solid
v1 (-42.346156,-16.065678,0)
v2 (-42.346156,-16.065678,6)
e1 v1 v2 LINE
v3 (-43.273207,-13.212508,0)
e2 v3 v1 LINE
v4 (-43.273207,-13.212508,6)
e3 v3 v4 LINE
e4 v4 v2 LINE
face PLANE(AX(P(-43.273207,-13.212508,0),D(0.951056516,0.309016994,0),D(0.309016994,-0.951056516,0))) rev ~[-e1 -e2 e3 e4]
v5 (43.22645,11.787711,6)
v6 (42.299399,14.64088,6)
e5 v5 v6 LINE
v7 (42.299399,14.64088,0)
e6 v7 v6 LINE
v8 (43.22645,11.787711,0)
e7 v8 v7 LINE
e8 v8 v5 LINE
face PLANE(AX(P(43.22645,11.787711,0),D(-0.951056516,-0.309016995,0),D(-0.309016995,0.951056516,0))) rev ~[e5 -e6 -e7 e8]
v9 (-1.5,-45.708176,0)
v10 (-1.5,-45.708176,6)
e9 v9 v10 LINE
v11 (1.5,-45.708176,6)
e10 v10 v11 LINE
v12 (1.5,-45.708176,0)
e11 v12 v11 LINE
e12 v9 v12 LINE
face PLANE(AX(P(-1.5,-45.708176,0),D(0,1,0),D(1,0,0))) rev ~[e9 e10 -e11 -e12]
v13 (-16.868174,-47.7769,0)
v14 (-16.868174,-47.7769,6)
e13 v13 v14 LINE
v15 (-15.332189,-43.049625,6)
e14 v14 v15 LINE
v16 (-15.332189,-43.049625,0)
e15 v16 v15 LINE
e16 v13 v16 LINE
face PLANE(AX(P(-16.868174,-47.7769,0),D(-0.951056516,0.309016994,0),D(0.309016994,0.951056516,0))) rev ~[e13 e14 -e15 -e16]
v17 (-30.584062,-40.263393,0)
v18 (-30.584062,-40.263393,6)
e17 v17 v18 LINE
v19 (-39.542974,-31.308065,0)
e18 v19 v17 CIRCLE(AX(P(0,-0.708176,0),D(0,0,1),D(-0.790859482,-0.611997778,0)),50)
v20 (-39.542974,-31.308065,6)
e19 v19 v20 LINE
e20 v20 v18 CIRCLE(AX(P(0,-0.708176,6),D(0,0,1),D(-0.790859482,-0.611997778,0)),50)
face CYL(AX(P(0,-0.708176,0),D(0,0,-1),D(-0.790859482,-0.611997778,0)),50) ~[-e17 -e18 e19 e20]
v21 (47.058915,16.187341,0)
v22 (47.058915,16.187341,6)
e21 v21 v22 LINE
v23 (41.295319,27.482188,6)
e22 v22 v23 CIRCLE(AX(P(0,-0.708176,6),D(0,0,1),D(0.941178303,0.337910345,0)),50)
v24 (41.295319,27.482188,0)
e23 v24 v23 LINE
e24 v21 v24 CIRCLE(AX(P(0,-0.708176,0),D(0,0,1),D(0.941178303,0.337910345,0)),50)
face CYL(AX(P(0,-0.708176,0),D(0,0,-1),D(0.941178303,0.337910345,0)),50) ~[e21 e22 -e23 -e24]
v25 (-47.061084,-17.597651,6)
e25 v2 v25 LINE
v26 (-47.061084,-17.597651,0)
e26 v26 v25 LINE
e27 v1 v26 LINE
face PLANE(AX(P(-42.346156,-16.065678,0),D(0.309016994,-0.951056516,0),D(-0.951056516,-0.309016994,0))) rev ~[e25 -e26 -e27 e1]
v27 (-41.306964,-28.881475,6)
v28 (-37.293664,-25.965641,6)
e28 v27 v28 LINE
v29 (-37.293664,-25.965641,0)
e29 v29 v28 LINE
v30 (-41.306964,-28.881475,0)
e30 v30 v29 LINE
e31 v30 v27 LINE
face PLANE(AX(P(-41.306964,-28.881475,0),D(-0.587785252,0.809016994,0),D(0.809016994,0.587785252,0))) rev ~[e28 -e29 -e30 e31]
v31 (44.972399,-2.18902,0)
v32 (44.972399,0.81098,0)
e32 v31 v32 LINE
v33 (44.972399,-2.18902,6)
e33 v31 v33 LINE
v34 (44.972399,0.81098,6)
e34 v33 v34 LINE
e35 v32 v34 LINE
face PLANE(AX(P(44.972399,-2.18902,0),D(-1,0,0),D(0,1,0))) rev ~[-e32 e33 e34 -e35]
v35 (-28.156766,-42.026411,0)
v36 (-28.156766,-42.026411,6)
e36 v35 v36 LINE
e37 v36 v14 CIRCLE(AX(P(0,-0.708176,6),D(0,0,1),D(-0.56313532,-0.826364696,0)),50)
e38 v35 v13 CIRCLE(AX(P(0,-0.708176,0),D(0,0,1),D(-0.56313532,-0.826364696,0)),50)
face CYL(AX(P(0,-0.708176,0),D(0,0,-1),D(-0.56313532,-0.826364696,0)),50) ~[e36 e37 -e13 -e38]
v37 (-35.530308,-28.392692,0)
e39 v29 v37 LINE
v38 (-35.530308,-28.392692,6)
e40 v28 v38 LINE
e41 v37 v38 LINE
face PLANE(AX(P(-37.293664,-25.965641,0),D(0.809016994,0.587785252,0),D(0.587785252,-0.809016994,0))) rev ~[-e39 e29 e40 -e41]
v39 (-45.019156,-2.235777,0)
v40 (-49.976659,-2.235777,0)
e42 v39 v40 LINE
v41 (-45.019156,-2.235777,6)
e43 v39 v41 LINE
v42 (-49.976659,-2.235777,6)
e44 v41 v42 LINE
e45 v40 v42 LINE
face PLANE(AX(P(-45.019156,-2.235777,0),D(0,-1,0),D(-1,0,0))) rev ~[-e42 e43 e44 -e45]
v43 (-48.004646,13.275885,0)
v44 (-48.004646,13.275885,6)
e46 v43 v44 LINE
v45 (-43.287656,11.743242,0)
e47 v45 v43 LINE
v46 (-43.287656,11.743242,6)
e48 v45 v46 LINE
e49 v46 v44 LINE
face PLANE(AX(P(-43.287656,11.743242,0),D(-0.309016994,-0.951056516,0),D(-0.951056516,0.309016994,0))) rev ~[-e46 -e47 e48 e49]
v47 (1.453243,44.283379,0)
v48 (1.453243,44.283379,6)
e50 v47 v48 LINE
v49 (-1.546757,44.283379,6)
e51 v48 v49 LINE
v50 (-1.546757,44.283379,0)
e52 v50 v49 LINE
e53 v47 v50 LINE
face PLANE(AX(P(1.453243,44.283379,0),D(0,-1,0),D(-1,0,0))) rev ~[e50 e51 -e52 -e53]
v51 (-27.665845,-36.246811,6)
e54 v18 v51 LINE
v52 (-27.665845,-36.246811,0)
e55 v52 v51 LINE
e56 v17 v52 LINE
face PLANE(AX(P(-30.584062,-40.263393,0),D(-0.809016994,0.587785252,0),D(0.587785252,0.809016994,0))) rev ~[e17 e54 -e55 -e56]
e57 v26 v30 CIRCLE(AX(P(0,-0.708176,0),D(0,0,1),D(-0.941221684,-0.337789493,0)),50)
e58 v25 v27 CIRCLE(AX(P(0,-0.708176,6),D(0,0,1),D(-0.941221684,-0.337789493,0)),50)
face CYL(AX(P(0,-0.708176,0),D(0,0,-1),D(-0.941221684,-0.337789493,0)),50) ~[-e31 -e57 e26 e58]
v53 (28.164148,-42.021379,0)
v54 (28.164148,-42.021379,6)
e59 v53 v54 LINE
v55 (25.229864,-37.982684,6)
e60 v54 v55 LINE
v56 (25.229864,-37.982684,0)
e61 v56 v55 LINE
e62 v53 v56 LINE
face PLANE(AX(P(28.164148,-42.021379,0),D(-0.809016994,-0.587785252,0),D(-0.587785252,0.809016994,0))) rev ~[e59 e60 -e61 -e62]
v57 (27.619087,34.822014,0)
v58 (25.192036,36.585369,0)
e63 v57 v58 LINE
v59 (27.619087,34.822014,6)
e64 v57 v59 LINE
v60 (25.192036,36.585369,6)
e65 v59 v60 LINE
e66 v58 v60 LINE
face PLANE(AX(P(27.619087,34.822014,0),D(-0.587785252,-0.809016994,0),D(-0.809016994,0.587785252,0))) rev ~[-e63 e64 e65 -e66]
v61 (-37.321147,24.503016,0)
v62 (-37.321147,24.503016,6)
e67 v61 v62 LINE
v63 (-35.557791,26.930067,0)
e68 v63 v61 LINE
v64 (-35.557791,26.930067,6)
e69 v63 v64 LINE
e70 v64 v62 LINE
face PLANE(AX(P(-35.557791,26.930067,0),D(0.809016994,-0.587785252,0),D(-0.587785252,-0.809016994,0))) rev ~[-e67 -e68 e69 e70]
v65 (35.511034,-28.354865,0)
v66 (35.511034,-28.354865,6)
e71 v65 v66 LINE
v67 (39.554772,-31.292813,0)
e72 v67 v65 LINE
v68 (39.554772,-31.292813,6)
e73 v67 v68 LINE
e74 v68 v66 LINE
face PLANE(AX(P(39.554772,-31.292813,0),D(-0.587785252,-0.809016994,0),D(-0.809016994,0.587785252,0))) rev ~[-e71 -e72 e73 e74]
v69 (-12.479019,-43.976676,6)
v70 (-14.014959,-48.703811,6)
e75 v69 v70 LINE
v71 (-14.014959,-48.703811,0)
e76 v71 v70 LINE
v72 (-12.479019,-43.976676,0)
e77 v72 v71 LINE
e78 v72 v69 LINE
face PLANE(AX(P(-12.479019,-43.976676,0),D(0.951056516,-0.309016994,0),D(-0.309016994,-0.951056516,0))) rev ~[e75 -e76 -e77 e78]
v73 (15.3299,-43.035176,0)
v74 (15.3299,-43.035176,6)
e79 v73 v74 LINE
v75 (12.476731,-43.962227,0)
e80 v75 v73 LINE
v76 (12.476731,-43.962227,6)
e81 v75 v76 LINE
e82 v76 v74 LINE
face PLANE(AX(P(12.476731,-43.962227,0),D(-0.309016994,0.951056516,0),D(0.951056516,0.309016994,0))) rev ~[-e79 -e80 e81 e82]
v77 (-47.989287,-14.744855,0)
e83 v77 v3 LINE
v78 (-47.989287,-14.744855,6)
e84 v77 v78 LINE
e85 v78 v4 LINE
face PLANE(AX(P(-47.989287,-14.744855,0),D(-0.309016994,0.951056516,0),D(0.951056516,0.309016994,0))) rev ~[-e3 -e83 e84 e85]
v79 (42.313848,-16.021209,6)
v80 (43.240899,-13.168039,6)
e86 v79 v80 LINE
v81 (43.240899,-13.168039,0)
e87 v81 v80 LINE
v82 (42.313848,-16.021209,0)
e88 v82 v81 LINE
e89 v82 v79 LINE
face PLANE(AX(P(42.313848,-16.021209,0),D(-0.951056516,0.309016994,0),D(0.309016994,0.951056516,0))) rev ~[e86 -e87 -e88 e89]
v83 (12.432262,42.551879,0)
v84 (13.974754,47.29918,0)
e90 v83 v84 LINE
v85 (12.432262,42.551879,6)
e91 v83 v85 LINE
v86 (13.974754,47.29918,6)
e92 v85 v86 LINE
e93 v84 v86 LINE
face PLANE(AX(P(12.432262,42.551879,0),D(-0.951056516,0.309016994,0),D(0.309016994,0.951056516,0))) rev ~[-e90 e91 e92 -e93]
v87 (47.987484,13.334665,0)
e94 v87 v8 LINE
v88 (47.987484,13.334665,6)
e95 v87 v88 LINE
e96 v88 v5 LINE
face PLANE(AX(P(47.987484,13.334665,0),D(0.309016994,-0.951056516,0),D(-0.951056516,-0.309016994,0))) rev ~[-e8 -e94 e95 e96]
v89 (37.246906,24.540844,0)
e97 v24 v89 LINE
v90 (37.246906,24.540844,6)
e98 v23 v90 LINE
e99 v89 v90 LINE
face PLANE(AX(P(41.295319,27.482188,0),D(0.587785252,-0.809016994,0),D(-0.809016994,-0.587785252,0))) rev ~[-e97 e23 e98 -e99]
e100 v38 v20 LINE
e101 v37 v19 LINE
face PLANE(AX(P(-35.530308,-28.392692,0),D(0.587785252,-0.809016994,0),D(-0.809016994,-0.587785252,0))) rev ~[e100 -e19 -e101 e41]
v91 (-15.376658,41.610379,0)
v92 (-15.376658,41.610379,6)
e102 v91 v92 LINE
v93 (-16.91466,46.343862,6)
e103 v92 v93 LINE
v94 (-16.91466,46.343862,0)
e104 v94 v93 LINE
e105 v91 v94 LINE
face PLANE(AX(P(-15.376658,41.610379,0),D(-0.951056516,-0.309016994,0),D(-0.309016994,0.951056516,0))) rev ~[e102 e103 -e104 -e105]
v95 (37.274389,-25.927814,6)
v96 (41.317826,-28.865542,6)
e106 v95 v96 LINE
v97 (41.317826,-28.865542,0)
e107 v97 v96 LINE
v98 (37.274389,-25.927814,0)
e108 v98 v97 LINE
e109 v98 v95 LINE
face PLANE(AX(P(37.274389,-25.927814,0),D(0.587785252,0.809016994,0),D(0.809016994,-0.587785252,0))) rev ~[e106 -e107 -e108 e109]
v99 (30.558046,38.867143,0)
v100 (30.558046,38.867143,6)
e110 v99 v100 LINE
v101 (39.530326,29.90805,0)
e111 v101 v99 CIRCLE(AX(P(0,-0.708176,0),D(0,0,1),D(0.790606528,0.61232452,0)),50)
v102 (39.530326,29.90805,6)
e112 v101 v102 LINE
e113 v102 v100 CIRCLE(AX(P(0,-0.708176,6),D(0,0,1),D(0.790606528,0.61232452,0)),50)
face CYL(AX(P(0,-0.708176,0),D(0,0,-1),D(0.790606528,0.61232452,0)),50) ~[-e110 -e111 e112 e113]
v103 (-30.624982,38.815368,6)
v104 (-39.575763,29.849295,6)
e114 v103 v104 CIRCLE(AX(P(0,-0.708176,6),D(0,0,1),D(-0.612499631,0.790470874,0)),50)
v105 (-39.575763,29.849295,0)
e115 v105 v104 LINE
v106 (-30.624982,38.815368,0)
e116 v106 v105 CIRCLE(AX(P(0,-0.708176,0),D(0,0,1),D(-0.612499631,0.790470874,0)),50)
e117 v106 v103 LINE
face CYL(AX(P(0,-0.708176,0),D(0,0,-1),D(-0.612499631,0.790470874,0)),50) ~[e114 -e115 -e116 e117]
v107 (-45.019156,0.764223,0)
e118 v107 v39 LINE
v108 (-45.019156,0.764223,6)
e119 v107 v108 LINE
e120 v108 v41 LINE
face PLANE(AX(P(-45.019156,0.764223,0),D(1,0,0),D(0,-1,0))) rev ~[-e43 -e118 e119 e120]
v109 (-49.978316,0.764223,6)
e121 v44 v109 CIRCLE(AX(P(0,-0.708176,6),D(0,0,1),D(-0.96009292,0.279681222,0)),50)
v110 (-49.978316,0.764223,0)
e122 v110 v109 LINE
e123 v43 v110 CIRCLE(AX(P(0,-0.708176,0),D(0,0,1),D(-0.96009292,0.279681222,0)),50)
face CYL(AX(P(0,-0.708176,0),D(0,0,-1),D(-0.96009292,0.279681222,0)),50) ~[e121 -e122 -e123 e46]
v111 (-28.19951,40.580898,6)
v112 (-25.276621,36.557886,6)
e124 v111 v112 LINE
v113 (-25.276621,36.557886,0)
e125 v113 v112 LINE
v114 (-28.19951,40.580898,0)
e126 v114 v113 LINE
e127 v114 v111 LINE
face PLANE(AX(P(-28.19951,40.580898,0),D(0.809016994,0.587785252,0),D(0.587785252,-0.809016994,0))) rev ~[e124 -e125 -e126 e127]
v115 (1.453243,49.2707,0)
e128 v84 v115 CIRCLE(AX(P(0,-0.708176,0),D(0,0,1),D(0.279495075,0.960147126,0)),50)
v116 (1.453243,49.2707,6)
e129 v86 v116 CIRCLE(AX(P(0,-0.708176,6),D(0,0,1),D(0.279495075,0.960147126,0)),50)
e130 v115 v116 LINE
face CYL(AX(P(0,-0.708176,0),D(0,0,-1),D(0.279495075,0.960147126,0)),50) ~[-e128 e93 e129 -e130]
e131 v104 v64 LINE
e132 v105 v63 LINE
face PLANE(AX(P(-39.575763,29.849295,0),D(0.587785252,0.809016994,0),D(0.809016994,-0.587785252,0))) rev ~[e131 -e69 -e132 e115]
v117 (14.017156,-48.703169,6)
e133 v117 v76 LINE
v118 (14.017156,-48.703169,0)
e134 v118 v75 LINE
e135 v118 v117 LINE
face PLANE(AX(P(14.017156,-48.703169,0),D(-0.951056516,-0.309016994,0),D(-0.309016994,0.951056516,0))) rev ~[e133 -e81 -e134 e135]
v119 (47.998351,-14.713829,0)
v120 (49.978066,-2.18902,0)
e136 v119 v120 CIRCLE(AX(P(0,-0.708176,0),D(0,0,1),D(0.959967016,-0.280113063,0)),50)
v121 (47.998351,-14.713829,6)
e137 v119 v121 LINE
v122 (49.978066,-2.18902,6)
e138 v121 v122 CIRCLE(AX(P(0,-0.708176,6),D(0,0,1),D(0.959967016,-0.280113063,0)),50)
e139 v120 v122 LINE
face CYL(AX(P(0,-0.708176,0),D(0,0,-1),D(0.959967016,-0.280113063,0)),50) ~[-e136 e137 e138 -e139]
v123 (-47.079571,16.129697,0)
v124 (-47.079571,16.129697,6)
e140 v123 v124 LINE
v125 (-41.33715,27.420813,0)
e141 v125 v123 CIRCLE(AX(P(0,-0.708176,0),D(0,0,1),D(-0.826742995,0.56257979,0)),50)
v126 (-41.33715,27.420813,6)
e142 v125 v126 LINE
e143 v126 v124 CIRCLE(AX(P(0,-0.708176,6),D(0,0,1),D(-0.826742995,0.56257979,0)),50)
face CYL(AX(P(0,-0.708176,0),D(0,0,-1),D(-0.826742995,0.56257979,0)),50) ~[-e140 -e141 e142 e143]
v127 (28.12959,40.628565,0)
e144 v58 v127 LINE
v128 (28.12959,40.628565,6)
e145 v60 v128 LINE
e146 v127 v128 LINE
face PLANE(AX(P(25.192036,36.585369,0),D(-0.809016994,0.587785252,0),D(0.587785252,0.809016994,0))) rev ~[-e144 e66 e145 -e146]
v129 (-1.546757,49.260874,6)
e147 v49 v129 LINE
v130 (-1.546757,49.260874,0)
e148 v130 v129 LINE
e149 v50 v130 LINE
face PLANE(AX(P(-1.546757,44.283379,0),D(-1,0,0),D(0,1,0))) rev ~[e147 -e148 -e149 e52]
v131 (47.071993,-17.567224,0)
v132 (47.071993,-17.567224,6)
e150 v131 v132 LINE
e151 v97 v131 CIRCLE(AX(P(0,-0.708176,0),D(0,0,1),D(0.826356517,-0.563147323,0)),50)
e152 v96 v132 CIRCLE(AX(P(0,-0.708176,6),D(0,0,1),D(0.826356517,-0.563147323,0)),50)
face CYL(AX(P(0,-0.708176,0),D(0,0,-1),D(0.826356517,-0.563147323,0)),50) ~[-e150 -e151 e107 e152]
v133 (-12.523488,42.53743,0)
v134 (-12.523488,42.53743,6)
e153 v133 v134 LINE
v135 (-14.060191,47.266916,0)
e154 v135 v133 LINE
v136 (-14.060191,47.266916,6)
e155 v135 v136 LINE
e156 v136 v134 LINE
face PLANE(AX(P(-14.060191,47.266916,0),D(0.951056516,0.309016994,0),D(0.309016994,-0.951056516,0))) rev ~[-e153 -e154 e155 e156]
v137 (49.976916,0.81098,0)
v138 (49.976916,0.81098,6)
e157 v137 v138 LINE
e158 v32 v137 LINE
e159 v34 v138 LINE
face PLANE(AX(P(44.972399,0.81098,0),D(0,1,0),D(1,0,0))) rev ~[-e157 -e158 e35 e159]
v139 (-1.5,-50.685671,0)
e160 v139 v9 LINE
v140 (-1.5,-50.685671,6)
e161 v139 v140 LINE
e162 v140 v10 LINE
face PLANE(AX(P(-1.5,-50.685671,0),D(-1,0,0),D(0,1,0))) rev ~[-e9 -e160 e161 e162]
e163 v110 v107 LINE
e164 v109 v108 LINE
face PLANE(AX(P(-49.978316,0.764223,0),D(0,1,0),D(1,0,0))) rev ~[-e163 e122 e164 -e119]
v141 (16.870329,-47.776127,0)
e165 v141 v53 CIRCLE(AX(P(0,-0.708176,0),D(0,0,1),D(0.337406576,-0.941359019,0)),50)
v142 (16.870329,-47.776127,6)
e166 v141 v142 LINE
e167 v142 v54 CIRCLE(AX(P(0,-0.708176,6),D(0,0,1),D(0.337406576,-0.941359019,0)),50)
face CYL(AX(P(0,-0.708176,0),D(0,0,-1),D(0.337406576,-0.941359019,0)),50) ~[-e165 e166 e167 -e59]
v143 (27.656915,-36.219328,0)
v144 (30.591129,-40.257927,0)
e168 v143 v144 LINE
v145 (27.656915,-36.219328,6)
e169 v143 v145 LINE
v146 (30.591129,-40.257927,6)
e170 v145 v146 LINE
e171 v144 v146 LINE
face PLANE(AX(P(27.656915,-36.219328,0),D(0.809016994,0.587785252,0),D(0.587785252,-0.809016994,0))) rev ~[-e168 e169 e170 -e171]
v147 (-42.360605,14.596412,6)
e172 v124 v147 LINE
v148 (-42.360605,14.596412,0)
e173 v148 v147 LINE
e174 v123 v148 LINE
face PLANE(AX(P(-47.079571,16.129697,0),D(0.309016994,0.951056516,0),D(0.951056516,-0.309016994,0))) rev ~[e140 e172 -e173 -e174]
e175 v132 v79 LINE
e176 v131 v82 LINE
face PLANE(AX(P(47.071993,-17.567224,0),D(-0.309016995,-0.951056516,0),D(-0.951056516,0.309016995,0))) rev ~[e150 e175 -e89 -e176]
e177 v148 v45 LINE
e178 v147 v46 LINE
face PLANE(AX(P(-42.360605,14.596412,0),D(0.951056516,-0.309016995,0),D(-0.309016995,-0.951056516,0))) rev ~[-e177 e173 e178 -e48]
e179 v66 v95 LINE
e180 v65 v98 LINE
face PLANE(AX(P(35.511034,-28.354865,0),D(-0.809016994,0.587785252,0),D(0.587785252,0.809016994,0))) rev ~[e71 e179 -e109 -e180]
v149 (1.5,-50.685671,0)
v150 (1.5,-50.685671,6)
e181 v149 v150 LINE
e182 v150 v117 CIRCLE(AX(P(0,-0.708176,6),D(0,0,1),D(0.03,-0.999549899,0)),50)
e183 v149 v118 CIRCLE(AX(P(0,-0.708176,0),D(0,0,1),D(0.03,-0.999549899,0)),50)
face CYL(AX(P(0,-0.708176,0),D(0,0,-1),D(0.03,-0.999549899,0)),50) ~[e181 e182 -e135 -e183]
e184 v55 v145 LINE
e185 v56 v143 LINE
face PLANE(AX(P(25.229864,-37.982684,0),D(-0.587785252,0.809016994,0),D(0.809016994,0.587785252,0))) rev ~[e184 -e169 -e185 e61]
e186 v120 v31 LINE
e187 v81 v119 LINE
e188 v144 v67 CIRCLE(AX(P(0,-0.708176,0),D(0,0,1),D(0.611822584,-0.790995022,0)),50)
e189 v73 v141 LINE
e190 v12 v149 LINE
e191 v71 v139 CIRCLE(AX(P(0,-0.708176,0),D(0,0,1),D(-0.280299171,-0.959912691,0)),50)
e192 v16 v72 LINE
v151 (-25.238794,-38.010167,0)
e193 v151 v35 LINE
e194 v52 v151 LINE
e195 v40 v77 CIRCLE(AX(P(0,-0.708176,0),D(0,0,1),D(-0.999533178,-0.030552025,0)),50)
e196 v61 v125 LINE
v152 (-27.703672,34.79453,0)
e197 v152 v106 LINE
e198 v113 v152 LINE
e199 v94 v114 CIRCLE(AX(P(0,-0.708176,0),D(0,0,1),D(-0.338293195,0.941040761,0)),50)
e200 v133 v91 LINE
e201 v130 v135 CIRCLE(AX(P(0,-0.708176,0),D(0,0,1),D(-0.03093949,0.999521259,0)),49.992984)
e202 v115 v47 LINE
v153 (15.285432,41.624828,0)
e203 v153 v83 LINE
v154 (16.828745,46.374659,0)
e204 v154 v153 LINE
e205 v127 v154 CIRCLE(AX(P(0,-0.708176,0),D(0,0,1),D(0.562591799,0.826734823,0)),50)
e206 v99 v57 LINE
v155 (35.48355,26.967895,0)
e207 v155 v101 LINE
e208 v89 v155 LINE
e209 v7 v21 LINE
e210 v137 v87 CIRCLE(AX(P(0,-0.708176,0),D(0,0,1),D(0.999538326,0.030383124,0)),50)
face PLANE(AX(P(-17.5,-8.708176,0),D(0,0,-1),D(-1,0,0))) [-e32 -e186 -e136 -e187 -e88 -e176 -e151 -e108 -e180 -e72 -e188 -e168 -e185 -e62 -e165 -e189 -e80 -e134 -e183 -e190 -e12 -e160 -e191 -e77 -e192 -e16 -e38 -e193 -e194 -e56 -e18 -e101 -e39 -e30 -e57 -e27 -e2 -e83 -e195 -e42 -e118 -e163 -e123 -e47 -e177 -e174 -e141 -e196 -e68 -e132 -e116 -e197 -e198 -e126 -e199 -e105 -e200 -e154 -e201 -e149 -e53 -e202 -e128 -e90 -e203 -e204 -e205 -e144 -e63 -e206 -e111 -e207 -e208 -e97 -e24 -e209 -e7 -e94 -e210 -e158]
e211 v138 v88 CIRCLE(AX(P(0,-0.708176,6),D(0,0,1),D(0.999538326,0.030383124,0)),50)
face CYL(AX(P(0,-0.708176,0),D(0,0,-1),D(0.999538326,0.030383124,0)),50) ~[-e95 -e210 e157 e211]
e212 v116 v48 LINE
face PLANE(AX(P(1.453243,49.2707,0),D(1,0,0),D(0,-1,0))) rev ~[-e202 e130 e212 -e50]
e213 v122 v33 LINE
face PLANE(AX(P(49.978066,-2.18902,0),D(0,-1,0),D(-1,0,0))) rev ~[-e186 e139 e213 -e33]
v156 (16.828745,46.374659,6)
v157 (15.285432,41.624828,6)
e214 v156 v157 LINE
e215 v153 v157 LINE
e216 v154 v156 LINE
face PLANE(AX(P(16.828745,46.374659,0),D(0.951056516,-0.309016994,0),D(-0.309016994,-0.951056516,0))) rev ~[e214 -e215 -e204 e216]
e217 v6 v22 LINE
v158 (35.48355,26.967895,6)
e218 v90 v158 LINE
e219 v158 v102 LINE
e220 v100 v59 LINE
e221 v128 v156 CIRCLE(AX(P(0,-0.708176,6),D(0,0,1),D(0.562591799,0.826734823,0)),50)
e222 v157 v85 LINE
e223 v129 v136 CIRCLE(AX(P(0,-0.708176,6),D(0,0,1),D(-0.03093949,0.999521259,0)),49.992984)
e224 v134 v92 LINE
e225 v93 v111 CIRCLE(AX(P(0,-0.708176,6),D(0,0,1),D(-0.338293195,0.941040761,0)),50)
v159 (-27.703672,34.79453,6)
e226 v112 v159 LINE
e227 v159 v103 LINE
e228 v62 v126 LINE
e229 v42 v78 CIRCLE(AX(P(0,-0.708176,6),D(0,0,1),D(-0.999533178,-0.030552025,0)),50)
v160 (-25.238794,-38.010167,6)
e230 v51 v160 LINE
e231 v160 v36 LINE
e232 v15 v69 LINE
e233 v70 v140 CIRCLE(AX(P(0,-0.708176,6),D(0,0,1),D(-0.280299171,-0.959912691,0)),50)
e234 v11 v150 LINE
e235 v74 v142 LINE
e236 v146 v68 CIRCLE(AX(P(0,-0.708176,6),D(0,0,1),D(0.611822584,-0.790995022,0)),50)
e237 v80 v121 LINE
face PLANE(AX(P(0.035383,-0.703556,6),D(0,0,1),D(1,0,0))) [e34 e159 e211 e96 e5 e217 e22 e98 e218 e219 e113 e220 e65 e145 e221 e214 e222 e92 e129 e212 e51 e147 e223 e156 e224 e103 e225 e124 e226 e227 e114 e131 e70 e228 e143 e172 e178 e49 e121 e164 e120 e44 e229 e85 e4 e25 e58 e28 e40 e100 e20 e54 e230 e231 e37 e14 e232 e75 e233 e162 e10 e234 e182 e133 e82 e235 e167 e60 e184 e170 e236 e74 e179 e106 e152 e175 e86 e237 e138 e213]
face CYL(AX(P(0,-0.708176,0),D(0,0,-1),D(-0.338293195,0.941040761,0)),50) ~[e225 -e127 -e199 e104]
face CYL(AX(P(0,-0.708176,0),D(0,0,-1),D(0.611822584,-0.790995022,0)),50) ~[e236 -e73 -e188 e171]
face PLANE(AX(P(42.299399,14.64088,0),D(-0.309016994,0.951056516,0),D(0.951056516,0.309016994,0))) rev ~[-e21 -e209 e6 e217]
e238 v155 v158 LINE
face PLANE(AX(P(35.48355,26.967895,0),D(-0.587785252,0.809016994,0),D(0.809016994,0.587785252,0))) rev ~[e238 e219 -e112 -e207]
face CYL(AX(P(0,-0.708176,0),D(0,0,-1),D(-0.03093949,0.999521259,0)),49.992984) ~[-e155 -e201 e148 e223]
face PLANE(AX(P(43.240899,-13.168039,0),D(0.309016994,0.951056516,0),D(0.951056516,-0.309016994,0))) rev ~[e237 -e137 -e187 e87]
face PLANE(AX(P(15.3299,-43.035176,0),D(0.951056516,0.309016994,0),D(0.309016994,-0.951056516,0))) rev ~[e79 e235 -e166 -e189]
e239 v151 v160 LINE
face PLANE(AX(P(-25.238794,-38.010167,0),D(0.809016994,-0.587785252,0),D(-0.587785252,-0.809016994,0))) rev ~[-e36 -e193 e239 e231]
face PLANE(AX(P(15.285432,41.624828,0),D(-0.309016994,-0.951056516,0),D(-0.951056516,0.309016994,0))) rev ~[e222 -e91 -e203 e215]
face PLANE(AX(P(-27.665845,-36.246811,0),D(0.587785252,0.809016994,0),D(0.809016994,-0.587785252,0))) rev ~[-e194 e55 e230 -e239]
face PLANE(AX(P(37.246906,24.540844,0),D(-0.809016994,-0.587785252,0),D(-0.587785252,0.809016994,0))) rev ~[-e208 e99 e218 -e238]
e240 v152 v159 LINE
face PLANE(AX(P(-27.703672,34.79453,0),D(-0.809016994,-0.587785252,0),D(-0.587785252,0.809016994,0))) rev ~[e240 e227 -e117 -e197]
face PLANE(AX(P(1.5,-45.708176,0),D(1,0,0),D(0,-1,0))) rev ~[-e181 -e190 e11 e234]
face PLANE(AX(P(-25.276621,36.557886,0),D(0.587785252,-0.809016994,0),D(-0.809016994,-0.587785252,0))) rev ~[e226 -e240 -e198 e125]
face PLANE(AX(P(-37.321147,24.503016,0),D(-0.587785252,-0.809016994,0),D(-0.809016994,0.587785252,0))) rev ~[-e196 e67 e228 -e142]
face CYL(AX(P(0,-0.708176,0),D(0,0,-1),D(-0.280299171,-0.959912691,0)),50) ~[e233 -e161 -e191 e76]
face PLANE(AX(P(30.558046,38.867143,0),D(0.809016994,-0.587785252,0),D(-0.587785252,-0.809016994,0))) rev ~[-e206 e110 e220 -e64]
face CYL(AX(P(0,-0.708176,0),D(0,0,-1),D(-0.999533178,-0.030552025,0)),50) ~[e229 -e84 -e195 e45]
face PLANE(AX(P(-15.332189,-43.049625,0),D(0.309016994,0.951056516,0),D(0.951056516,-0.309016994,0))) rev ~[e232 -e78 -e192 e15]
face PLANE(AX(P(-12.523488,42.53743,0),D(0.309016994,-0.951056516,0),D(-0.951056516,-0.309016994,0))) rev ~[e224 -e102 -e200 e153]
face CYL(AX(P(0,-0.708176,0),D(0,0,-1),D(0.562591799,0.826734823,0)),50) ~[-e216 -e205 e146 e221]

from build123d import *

# Parameters (mm, degrees)
SKETCH2_W           = 16
SKETCH2_H           = 6
SKETCH2_R           = 2.75
BOSS_EXTRUDE1_DEPTH = 6
SKETCH4_R           = 2.75
SKETCH4_W           = 16
SKETCH4_H           = 6
BOSS_EXTRUDE2_DEPTH = 6


with BuildPart() as part:
    # Sketch2 → Boss-Extrude1 (new body)
    with BuildSketch(Plane.XY):
        with BuildLine():
            ThreePointArc((-14.014958559, -48.70381072), (-7.820513245, -50.092784824), (-1.5, -50.685671098))
            Line((-1.5, -50.685671098), (-1.5, -45.708176163))
            Line((-1.5, -45.708176163), (1.5, -45.708176163))
            Line((1.5, -45.708176163), (1.5, -50.685671098))
            ThreePointArc((1.5, -50.685671098), (7.821643905, -50.09260576), (14.017156267, -48.703168924))
            Line((14.017156267, -48.703168924), (12.476730902, -43.962227135))
            Line((12.476730902, -43.962227135), (15.32990045, -43.035176152))
            Line((15.32990045, -43.035176152), (16.870328795, -47.776127109))
            ThreePointArc((16.870328795, -47.776127109), (22.700337229, -45.258088505), (28.164148211, -42.021379325))
            Line((28.164148211, -42.021379325), (25.229863981, -37.982683562))
            Line((25.229863981, -37.982683562), (27.656914964, -36.219327805))
            Line((27.656914964, -36.219327805), (30.591129228, -40.257927268))
            ThreePointArc((30.591129228, -40.257927268), (35.358240772, -36.060613271), (39.55477218, -31.292812793))
            Line((39.55477218, -31.292812793), (35.511033717, -28.354864828))
            Line((35.511033717, -28.354864828), (37.274389474, -25.927813845))
            Line((37.274389474, -25.927813845), (41.317825829, -28.865542317))
            ThreePointArc((41.317825829, -28.865542317), (44.554494815, -23.399517942), (47.071992795, -17.567224011))
            Line((47.071992795, -17.567224011), (42.313847582, -16.021208913))
            Line((42.313847582, -16.021208913), (43.240898565, -13.168039364))
            Line((43.240898565, -13.168039364), (47.998350807, -14.713829302))
            ThreePointArc((47.998350807, -14.713829302), (49.386863483, -8.514437454), (49.978066205, -2.189019992))
            Line((49.978066205, -2.189019992), (44.972398757, -2.189019992))
            Line((44.972398757, -2.189019992), (44.972398757, 0.810980008))
            Line((44.972398757, 0.810980008), (49.976916317, 0.810980008))
            ThreePointArc((49.976916317, 0.810980008), (49.380832331, 7.136146516), (47.987483994, 13.334664716))
            Line((47.987483994, 13.334664716), (43.22644973, 11.787710909))
            Line((43.22644973, 11.787710909), (42.299398746, 14.640880458))
            Line((42.299398746, 14.640880458), (47.058915168, 16.187341088))
            ThreePointArc((47.058915168, 16.187341088), (44.536626084, 22.0182168), (41.295318935, 27.482188044))
            Line((41.295318935, 27.482188044), (37.246906156, 24.540843989))
            Line((37.246906156, 24.540843989), (35.483550399, 26.967894972))
            Line((35.483550399, 26.967894972), (39.530326401, 29.908049839))
            ThreePointArc((39.530326401, 29.908049839), (35.329326435, 34.673156396), (30.558045552, 38.86714256))
            Line((30.558045552, 38.86714256), (27.619087422, 34.822013725))
            Line((27.619087422, 34.822013725), (25.192036439, 36.585369482))
            Line((25.192036439, 36.585369482), (28.129589934, 40.628565002))
            ThreePointArc((28.129589934, 40.628565002), (22.66202489, 43.861237429), (16.828745179, 46.374658668))
            Line((16.828745179, 46.374658668), (15.285431508, 41.62482759))
            Line((15.285431508, 41.62482759), (12.432261959, 42.551878573))
            Line((12.432261959, 42.551878573), (13.974753738, 47.299180128))
            ThreePointArc((13.974753738, 47.299180128), (7.776727495, 48.683346485), (1.453242586, 49.270700235))
            Line((1.453242586, 49.270700235), (1.453242586, 44.283378765))
            Line((1.453242586, 44.283378765), (-1.546757414, 44.283378765))
            Line((-1.546757414, 44.283378765), (-1.546757414, 49.2608737))
            ThreePointArc((-1.546757414, 49.2608737), (-7.866904098, 48.661958763), (-14.060191394, 47.266915506))
            Line((-14.060191394, 47.266915506), (-12.523488315, 42.537429737))
            Line((-12.523488315, 42.537429737), (-15.376657864, 41.610378754))
            Line((-15.376657864, 41.610378754), (-16.914659767, 46.343861891))
            ThreePointArc((-16.914659767, 46.343861891), (-22.740383136, 43.821308169), (-28.199510335, 40.580897657))
            Line((-28.199510335, 40.580897657), (-25.276621395, 36.557886164))
            Line((-25.276621395, 36.557886164), (-27.703672378, 34.794530407))
            Line((-27.703672378, 34.794530407), (-30.624981542, 38.815367524))
            ThreePointArc((-30.624981542, 38.815367524), (-35.385501758, 34.616974444), (-39.575762572, 29.849294558))
            Line((-39.575762572, 29.849294558), (-35.557791131, 26.93006743))
            Line((-35.557791131, 26.93006743), (-37.321146887, 24.503016447))
            Line((-37.321146887, 24.503016447), (-41.33714976, 27.420813327))
            ThreePointArc((-41.33714976, 27.420813327), (-44.567381262, 21.957845266), (-47.079571363, 16.129696634))
            Line((-47.079571363, 16.129696634), (-42.360604995, 14.596411515))
            Line((-42.360604995, 14.596411515), (-43.287655979, 11.743241967))
            Line((-43.287655979, 11.743241967), (-48.004645978, 13.275884924))
            ThreePointArc((-48.004645978, 13.275884924), (-49.389276358, 7.082804571), (-49.978315717, 0.764222594))
            Line((-49.978315717, 0.764222594), (-45.01915617, 0.764222594))
            Line((-45.01915617, 0.764222594), (-45.01915617, -2.235777406))
            Line((-45.01915617, -2.235777406), (-49.976658896, -2.235777406))
            ThreePointArc((-49.976658896, -2.235777406), (-49.380673152, -8.553500826), (-47.989286669, -14.744855434))
            Line((-47.989286669, -14.744855434), (-43.273207143, -13.212508307))
            Line((-43.273207143, -13.212508307), (-42.34615616, -16.065677856))
            Line((-42.34615616, -16.065677856), (-47.06108419, -17.597650839))
            ThreePointArc((-47.06108419, -17.597650839), (-44.542778803, -23.422507686), (-41.306963736, -28.881474636))
            Line((-41.306963736, -28.881474636), (-37.293663569, -25.965641387))
            Line((-37.293663569, -25.965641387), (-35.530307812, -28.39269237))
            Line((-35.530307812, -28.39269237), (-39.542974081, -31.308065065))
            ThreePointArc((-39.542974081, -31.308065065), (-35.348264075, -36.07058879), (-30.584062086, -40.263392586))
            Line((-30.584062086, -40.263392586), (-27.665844836, -36.246811123))
            Line((-27.665844836, -36.246811123), (-25.238793853, -38.01016688))
            Line((-25.238793853, -38.01016688), (-28.156765996, -42.026410983))
            ThreePointArc((-28.156765996, -42.026410983), (-22.695337069, -45.260635975), (-16.868173537, -47.776899552))
            Line((-16.868173537, -47.776899552), (-15.332188921, -43.049624988))
            Line((-15.332188921, -43.049624988), (-12.479019372, -43.976675971))
            Line((-12.479019372, -43.976675971), (-14.014958559, -48.70381072))
        make_face()
        with Locations((0, -31.708176163)):
            Rectangle(SKETCH2_W, SKETCH2_H, mode=Mode.SUBTRACT)
        with Locations((-17.5, -8.708176163)):
            Circle(SKETCH2_R, mode=Mode.SUBTRACT)
        with Locations((17.5, -8.708176163)):
            Circle(SKETCH2_R, mode=Mode.SUBTRACT)
    extrude(amount=BOSS_EXTRUDE1_DEPTH)

    # Sketch4 → Boss-Extrude2 (add)
    with BuildSketch(Plane(origin=(0, 0, 0), x_dir=(-1, 0, 0), z_dir=(0, 0, -1))):
        with Locations((17.5, -8.708176163)):
            Circle(SKETCH4_R)
        with Locations((-17.5, -8.708176163)):
            Circle(SKETCH4_R)
        with Locations((0, -31.708176163)):
            Rectangle(SKETCH4_W, SKETCH4_H)
    extrude(amount=-BOSS_EXTRUDE2_DEPTH)


solid = part.part
